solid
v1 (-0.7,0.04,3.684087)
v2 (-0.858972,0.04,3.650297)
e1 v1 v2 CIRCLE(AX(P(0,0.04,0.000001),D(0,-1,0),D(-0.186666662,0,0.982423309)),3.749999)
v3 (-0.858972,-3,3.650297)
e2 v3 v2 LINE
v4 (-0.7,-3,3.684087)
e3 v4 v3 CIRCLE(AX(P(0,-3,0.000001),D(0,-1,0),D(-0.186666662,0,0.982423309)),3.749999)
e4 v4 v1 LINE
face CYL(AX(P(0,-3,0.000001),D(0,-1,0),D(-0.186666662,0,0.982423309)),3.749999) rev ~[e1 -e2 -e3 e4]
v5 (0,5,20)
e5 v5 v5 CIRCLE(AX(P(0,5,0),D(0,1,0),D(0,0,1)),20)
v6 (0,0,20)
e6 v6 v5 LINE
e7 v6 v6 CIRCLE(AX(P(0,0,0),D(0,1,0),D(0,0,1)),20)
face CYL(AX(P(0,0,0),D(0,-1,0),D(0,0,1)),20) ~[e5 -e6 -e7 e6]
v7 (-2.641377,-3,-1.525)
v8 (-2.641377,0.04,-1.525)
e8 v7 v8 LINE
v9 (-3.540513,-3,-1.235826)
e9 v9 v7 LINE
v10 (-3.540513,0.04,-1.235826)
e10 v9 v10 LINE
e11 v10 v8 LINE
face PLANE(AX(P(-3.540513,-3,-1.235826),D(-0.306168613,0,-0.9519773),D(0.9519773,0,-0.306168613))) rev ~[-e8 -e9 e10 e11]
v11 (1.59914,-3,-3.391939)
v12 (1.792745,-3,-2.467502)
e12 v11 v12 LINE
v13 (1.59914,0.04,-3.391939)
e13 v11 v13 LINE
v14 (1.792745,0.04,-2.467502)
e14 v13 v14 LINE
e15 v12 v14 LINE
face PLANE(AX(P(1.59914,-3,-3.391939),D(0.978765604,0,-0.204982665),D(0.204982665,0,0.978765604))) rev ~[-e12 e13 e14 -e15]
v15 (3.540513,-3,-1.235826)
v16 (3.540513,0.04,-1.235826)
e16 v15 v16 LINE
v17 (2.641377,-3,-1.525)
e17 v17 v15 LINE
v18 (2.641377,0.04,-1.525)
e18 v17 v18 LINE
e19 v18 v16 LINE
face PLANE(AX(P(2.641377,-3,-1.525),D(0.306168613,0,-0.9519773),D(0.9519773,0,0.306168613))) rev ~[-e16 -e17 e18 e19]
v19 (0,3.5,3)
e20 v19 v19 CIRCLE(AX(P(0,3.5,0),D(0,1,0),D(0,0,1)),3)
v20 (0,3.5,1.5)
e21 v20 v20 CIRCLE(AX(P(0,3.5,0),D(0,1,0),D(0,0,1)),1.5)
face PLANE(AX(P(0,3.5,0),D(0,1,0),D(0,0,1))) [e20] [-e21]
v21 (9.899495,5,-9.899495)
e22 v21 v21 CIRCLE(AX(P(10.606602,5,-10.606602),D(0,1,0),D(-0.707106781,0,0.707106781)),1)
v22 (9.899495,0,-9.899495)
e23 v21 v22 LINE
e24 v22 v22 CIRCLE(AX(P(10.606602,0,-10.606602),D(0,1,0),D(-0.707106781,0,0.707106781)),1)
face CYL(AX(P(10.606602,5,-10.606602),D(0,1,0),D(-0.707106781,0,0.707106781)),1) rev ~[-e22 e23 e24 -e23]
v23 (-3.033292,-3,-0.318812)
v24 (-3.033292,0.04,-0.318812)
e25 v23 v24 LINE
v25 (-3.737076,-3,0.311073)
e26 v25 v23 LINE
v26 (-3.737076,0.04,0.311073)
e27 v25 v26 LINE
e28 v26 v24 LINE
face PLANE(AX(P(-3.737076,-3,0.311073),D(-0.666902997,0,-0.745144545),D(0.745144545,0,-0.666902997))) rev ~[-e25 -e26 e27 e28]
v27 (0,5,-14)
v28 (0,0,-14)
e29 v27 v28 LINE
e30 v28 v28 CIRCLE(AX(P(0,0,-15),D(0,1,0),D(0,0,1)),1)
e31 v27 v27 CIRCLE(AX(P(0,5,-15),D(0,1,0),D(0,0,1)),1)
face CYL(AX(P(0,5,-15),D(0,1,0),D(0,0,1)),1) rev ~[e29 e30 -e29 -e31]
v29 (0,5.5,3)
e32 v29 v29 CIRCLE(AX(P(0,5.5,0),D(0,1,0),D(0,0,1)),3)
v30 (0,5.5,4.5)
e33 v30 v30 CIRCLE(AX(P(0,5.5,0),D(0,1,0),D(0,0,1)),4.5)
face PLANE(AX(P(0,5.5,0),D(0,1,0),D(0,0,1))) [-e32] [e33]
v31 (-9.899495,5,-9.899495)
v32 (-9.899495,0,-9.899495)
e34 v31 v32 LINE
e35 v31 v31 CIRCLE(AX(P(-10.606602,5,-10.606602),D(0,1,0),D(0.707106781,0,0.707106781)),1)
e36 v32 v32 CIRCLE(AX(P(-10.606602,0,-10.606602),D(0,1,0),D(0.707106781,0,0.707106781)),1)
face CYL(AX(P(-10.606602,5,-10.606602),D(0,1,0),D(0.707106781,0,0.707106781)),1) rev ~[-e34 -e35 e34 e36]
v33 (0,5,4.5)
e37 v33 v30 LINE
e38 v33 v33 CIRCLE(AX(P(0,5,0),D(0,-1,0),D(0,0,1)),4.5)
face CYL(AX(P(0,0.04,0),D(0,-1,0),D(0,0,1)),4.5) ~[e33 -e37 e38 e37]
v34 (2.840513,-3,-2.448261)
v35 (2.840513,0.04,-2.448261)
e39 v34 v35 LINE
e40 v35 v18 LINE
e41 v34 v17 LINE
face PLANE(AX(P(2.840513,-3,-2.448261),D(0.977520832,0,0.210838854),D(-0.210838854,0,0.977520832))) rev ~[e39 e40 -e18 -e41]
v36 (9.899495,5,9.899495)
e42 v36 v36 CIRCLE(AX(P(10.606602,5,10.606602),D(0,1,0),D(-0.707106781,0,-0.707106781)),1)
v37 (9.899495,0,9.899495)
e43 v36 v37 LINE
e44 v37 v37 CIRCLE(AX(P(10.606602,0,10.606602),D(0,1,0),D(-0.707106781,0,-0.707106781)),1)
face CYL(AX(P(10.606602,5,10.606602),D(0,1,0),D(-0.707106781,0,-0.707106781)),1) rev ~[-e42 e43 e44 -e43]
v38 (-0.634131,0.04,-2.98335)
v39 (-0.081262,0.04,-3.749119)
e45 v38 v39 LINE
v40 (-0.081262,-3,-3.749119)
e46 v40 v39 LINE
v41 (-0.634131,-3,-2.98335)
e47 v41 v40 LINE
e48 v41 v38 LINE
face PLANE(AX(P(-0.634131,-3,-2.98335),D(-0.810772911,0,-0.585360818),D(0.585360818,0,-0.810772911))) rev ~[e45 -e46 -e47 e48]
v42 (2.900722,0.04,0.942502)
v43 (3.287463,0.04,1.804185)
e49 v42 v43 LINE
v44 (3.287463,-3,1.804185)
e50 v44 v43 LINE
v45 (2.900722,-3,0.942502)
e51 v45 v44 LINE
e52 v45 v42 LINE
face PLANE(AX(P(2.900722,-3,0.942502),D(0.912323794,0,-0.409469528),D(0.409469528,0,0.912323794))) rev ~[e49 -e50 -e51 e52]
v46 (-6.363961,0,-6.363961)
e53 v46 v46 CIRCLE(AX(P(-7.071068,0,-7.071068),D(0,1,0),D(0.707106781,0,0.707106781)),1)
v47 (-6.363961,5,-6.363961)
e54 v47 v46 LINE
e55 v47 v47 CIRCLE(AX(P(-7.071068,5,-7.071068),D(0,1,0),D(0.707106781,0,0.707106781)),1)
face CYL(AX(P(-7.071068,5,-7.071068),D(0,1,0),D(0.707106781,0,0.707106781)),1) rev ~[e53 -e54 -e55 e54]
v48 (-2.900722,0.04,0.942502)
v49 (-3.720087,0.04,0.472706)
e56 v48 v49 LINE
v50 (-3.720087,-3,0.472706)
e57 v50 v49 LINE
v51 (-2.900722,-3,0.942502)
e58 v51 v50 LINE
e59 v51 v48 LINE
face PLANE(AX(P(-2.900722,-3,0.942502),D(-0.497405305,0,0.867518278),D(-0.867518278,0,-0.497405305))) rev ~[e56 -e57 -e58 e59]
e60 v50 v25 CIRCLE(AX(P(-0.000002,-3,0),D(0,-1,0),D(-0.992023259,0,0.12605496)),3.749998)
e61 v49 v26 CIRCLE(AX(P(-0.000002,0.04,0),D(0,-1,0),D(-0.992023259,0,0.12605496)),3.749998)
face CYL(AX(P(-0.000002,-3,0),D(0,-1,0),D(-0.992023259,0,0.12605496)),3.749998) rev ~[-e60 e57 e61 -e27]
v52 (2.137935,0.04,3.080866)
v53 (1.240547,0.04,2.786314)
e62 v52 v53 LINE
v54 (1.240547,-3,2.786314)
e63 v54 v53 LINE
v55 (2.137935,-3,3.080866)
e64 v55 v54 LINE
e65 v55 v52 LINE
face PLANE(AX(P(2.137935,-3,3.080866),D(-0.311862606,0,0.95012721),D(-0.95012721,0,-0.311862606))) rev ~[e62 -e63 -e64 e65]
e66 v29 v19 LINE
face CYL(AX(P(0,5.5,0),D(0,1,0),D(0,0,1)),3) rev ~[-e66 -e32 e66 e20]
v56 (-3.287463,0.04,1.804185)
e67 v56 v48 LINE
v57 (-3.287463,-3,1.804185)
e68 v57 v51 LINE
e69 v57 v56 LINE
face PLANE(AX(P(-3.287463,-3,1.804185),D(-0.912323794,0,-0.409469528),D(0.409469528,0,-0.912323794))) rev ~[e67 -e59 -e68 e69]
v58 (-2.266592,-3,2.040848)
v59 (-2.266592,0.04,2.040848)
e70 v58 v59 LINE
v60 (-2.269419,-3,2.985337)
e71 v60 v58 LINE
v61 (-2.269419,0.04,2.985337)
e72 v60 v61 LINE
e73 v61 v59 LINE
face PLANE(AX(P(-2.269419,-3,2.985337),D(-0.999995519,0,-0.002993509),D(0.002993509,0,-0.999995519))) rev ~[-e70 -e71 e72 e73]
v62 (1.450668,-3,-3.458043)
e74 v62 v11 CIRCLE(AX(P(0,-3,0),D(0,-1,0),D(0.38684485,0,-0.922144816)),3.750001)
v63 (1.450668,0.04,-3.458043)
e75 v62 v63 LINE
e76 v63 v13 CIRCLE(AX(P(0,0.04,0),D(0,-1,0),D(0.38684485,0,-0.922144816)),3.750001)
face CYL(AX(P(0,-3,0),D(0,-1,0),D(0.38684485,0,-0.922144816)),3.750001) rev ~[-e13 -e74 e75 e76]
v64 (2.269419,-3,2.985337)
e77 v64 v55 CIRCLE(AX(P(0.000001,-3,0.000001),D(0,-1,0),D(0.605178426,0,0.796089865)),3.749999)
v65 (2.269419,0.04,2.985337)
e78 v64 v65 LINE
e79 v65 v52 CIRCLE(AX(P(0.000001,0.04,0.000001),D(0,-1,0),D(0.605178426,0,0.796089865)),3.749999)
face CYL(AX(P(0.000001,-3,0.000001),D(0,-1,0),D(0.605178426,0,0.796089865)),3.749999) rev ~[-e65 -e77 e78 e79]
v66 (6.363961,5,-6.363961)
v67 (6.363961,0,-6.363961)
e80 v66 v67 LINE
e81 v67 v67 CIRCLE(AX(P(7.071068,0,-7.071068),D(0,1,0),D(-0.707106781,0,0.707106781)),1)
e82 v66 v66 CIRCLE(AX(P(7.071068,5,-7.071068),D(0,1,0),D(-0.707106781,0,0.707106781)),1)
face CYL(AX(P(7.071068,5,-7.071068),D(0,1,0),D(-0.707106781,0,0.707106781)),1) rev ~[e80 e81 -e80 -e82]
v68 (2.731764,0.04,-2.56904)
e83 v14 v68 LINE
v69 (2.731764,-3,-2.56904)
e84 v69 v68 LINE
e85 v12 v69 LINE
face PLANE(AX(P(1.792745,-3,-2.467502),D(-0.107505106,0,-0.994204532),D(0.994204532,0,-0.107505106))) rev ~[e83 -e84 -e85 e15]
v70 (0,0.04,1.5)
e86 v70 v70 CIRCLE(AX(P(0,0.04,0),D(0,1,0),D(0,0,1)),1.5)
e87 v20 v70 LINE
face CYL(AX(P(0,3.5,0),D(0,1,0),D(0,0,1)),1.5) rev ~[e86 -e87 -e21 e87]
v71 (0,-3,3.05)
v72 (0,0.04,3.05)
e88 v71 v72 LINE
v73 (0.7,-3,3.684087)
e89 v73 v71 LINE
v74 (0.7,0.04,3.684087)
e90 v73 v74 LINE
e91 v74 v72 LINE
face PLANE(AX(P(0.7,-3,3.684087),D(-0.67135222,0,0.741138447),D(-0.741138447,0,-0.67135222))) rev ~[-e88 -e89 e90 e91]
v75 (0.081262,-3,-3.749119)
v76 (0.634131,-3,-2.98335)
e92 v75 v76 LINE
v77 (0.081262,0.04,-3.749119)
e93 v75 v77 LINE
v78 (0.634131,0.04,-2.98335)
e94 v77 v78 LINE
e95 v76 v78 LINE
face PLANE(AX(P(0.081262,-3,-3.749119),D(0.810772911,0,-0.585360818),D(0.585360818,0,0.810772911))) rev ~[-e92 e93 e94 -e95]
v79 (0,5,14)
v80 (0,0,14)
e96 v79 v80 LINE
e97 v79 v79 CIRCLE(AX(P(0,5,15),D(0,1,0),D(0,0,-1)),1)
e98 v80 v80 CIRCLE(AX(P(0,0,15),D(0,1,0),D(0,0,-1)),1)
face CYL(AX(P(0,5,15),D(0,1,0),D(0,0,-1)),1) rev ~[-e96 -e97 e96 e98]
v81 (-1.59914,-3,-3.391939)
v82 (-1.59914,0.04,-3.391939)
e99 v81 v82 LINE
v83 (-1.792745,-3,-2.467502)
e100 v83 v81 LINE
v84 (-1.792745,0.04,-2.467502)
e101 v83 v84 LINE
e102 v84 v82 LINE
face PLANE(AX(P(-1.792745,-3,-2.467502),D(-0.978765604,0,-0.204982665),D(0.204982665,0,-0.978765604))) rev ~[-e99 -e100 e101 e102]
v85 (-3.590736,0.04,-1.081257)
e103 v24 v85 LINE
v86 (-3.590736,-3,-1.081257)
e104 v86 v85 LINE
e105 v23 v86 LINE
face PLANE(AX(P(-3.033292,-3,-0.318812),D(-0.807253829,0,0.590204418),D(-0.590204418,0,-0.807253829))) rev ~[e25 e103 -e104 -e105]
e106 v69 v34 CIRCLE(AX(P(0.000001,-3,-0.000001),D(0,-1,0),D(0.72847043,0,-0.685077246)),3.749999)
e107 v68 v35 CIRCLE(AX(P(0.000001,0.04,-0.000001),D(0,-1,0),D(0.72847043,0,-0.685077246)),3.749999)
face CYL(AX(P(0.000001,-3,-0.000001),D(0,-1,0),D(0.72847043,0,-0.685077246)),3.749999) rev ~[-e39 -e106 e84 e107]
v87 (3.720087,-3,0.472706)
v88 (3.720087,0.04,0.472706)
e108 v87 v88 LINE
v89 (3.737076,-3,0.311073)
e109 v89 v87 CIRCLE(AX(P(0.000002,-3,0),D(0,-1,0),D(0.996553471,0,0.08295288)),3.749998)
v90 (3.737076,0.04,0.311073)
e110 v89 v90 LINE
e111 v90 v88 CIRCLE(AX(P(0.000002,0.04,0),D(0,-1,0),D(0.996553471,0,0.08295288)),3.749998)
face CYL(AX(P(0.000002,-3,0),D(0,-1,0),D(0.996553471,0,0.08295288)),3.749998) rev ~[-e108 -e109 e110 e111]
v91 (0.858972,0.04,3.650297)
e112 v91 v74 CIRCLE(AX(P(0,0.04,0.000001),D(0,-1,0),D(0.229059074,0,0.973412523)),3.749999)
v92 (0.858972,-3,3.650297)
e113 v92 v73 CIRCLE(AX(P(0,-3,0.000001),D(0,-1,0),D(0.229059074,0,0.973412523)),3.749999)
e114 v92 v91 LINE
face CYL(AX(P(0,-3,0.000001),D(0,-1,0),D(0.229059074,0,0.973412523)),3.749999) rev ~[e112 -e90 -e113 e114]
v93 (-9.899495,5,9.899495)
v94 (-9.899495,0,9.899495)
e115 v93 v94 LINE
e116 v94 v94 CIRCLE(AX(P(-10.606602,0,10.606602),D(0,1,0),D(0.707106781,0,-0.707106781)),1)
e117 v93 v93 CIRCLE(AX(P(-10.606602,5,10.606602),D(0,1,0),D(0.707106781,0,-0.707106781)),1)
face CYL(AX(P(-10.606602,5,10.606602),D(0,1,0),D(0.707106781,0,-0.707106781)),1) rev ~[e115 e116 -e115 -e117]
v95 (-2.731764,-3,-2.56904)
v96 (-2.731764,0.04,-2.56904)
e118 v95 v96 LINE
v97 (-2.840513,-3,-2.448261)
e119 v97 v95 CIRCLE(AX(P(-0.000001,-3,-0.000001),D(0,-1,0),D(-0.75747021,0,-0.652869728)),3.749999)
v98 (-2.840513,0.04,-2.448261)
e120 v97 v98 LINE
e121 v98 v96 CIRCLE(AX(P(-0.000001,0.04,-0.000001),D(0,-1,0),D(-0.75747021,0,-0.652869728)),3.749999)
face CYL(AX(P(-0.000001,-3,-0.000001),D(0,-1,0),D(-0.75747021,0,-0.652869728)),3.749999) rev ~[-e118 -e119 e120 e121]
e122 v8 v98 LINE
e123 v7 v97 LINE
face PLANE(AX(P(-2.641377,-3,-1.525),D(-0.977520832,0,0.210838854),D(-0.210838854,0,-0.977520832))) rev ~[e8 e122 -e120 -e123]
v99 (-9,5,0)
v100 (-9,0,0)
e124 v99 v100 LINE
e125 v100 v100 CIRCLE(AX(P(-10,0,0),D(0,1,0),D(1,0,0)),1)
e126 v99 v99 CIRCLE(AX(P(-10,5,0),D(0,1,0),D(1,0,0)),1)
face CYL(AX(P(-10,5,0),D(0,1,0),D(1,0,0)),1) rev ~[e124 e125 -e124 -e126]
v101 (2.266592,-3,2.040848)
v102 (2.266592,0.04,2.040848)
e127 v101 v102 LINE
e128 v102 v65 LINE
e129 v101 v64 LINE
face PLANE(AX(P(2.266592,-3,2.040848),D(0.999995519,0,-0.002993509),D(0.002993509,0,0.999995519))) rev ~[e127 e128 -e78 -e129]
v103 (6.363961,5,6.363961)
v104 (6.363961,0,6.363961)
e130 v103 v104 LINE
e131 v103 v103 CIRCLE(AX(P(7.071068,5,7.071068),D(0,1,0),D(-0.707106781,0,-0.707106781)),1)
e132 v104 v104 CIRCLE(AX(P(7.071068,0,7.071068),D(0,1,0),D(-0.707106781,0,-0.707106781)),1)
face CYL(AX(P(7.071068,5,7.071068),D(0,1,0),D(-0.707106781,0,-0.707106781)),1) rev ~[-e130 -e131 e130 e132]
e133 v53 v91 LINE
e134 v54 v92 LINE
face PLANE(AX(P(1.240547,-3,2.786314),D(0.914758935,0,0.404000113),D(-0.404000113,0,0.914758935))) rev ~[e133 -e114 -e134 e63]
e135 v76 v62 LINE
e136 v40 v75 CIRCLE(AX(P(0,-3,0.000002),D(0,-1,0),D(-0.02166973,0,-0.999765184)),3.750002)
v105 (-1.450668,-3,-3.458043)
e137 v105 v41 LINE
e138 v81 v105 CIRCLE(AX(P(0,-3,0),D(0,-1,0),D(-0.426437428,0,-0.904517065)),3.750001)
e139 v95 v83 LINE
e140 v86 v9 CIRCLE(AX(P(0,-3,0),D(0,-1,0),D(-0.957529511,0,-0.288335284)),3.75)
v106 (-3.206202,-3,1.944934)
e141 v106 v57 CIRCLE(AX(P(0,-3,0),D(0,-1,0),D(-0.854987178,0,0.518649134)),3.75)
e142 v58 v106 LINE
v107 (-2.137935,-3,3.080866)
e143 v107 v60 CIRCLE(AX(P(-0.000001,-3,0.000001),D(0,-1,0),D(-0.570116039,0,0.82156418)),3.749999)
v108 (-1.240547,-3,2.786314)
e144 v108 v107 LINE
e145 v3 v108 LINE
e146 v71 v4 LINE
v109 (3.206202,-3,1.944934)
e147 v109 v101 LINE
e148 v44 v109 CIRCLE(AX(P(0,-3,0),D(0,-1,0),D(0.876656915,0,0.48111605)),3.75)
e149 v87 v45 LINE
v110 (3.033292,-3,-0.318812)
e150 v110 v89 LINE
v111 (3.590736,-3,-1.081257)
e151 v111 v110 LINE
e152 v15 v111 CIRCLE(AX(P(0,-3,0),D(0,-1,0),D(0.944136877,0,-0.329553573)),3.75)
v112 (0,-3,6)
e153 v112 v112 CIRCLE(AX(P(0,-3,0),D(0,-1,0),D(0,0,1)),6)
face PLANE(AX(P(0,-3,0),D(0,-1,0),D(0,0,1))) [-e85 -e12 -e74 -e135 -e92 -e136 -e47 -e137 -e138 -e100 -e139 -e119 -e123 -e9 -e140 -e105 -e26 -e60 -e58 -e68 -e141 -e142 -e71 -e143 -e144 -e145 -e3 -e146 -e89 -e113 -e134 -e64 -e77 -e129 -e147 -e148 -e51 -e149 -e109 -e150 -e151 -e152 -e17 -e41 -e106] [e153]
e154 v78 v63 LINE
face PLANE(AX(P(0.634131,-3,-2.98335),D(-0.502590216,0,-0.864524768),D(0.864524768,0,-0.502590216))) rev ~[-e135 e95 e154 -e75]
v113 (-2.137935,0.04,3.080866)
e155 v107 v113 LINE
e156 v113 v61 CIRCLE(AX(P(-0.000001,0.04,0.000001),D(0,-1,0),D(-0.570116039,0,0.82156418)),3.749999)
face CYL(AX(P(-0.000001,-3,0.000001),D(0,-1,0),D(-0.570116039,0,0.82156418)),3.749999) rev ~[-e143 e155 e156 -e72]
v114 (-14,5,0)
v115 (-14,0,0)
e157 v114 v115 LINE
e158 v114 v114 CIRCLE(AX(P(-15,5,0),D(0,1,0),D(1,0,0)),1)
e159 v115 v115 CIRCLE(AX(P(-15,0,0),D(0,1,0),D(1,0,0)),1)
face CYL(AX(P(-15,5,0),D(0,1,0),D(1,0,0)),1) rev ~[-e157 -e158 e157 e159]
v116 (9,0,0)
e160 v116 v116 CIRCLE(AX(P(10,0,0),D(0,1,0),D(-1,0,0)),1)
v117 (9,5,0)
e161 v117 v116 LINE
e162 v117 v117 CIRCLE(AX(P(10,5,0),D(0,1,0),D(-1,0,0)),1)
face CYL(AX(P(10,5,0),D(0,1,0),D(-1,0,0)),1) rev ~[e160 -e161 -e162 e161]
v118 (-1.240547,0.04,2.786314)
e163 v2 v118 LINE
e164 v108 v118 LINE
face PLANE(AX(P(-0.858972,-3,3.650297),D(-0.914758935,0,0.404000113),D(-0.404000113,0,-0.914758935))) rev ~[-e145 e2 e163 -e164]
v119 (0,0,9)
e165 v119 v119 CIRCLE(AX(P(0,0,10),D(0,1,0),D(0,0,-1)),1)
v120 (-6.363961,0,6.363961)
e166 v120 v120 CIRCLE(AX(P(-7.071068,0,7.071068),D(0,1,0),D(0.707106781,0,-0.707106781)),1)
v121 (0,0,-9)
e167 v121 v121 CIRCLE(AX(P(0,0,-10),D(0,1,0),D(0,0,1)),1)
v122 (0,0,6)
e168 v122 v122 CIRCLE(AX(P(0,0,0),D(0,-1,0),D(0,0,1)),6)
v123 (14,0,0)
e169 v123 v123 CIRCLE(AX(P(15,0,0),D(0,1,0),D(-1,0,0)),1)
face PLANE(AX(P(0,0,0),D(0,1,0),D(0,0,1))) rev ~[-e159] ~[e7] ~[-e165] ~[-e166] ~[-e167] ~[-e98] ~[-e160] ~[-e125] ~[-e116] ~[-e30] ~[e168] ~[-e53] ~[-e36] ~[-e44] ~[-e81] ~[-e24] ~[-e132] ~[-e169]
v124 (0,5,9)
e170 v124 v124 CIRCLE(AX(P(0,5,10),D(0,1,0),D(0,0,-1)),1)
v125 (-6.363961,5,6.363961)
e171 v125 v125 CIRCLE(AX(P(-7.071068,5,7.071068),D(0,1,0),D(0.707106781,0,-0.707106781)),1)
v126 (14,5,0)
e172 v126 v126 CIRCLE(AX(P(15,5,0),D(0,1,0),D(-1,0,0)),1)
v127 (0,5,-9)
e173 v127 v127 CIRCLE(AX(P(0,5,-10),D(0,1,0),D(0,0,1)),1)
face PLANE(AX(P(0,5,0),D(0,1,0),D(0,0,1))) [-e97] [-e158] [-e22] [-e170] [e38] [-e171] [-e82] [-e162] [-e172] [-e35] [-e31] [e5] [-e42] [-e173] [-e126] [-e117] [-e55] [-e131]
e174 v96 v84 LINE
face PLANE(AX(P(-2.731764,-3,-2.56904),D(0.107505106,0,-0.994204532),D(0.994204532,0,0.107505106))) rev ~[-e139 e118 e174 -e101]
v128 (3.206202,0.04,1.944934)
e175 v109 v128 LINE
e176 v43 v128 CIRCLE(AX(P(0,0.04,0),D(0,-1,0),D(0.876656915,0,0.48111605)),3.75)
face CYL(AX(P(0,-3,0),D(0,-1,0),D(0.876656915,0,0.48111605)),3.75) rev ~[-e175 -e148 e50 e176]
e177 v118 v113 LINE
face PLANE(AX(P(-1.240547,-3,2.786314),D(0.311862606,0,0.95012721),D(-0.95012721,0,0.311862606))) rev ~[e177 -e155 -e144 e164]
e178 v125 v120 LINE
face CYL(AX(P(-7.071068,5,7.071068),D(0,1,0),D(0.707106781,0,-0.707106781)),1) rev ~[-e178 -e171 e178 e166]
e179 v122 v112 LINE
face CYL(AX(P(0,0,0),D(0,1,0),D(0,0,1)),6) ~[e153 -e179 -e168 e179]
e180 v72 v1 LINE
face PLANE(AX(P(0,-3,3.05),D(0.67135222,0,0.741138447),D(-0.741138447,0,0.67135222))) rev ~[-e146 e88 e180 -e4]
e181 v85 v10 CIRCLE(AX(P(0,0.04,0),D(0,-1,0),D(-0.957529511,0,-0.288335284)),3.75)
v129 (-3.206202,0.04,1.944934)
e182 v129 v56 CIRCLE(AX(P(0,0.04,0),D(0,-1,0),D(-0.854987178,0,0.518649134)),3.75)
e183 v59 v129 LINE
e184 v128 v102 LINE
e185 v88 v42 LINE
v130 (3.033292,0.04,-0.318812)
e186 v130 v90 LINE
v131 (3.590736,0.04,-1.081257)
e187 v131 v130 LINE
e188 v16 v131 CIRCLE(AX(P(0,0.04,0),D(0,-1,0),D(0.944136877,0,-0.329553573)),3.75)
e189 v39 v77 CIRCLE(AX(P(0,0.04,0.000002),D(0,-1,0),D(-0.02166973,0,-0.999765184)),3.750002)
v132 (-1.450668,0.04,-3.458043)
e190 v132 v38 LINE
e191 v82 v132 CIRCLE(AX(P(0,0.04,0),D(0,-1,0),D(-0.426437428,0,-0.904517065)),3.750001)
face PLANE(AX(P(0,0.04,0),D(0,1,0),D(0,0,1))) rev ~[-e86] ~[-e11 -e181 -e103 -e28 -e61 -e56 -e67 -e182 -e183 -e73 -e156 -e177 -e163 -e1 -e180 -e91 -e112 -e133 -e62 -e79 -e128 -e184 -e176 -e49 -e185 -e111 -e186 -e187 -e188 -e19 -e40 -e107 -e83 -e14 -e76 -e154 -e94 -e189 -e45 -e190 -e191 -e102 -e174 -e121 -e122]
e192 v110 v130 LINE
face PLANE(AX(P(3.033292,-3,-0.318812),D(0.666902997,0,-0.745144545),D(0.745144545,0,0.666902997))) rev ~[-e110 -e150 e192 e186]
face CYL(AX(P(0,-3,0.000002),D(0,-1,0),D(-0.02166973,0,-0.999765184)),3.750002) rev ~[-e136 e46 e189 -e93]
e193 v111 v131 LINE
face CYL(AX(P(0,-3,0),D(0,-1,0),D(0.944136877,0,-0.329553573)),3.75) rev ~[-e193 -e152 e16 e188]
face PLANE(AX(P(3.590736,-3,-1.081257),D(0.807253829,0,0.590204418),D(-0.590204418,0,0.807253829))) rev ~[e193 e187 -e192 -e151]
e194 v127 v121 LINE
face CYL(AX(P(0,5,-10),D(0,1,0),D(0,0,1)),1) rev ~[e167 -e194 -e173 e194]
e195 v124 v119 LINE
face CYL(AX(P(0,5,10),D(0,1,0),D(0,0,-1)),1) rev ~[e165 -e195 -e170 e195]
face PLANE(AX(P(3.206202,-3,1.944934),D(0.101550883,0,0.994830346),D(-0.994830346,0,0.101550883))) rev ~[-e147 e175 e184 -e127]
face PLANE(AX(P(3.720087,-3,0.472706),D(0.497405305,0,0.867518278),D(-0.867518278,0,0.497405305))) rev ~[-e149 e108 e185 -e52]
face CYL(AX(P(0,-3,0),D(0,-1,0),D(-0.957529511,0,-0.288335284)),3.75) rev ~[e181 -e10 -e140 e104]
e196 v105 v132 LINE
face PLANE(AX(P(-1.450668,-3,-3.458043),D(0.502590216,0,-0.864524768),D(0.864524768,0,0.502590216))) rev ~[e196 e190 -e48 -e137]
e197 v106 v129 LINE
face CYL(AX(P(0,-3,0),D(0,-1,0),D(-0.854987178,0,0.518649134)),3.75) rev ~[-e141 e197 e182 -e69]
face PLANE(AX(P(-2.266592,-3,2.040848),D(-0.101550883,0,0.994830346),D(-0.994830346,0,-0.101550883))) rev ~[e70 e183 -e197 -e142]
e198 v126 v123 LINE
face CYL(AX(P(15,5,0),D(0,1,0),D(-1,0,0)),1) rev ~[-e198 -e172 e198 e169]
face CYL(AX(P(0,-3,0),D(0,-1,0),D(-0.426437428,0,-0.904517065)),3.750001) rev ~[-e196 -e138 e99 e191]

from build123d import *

# Parameters (mm, degrees)
SKETCH1_R                = 20
BOSS_EXTRUDE1_DEPTH      = 5
SKETCH3_R                = 1
CUT_EXTRUDE2_DEPTH       = 10
CIRPATTERN1_COUNT        = 8
SKETCH5_R                = 6
BOSS_EXTRUDE3_DEPTH      = 3
CUT_EXTRUDE5_DEPTH       = 30.393876913
BOSS_EXTRUDE4_DEPTH      = 0.5
BOSS_EXTRUDE4_DEPTH_BACK = 4.96
SKETCH4_R                = 4.5
SKETCH10_R               = 3
CUT_EXTRUDE6_DEPTH       = 2
SKETCH11_R               = 1.5
CUT_EXTRUDE7_DEPTH       = 30.021543722


with BuildPart() as part:
    # Sketch1 → Boss-Extrude1 (new body)
    with BuildSketch(Plane(origin=(0, 0, 0), x_dir=(1, 0, 0), z_dir=(0, 1, 0))):
        with Locations(Location((0, 0, 0), (0, 0, 270))):
            Circle(SKETCH1_R)
    extrude(amount=BOSS_EXTRUDE1_DEPTH)

    # Sketch3 → Cut-Extrude2 (cut)
    with BuildSketch(Plane(origin=(0, 5, 0), x_dir=(1, 0, 0), z_dir=(0, 1, 0))):
        with Locations(Location((0, 15, 0), (0, 0, 270))):
            Circle(SKETCH3_R)
        with Locations(Location((0, 10, 0), (0, 0, 270))):
            Circle(SKETCH3_R)
    cut_extrude2 = extrude(amount=-CUT_EXTRUDE2_DEPTH, mode=Mode.SUBTRACT)

    # CirPattern1: Cut-Extrude2 ×8 about axis
    cirpattern1_axis = Axis((0, 0, 0), (0, 1, 0))
    for i in range(1, CIRPATTERN1_COUNT):
        add(cut_extrude2.rotate(cirpattern1_axis, i * 360 / CIRPATTERN1_COUNT), mode=Mode.SUBTRACT)

    # Sketch5 → Boss-Extrude3 (add)
    with BuildSketch(Plane.XZ):
        with Locations(Location((0, 0, 0), (0, 0, 90))):
            Circle(SKETCH5_R)
    extrude(amount=BOSS_EXTRUDE3_DEPTH)

    # Sketch8 → Cut-Extrude5 (cut, through all)
    with BuildSketch(Plane.XZ.offset(3)):
        with BuildLine():
            Line((0.7, 3.684087404), (0, 3.05))
            Line((0, 3.05), (-0.7, 3.684087404))
            ThreePointArc((-0.7, 3.684087404), (-0.779668841, 3.668053503), (-0.858971523, 3.650296964))
            Line((-0.858971523, 3.650296964), (-1.240546761, 2.786313646))
            Line((-1.240546761, 2.786313646), (-2.137935164, 3.080865663))
            ThreePointArc((-2.137935164, 3.080865663), (-2.204194696, 3.033813729), (-2.269419066, 2.985337016))
            Line((-2.269419066, 2.985337016), (-2.266591718, 2.040848349))
            Line((-2.266591718, 2.040848349), (-3.206201915, 1.944934261))
            ThreePointArc((-3.206201915, 1.944934261), (-3.247595264, 1.875), (-3.287463436, 1.804185178))
            Line((-3.287463436, 1.804185178), (-2.900722375, 0.942501833))
            Line((-2.900722375, 0.942501833), (-3.720087228, 0.472706055))
            ThreePointArc((-3.720087228, 0.472706055), (-3.729457108, 0.391981737), (-3.737075512, 0.311073332))
            Line((-3.737075512, 0.311073332), (-3.033291781, -0.318811813))
            Line((-3.033291781, -0.318811813), (-3.590735663, -1.081257322))
            ThreePointArc((-3.590735663, -1.081257322), (-3.566461936, -1.158813729), (-3.540513282, -1.235825919))
            Line((-3.540513282, -1.235825919), (-2.641377482, -1.525))
            Line((-2.641377482, -1.525), (-2.840513282, -2.448261485))
            ThreePointArc((-2.840513282, -2.448261485), (-2.786793096, -2.509239774), (-2.73176414, -2.569039642))
            Line((-2.73176414, -2.569039642), (-1.792745019, -2.467501833))
            Line((-1.792745019, -2.467501833), (-1.599140348, -3.391938995))
            ThreePointArc((-1.599140348, -3.391938995), (-1.525262412, -3.425795466), (-1.450668162, -3.458043072))
            Line((-1.450668162, -3.458043072), (-0.634130657, -2.983350182))
            Line((-0.634130657, -2.983350182), (-0.081261521, -3.749119439))
            ThreePointArc((-0.081261521, -3.749119439), (0, -3.75), (0.081261521, -3.749119439))
            Line((0.081261521, -3.749119439), (0.634130657, -2.983350182))
            Line((0.634130657, -2.983350182), (1.450668162, -3.458043072))
            ThreePointArc((1.450668162, -3.458043072), (1.525262412, -3.425795466), (1.599140348, -3.391938995))
            Line((1.599140348, -3.391938995), (1.792745019, -2.467501833))
            Line((1.792745019, -2.467501833), (2.73176414, -2.569039642))
            ThreePointArc((2.73176414, -2.569039642), (2.786793096, -2.509239774), (2.840513282, -2.448261485))
            Line((2.840513282, -2.448261485), (2.641377482, -1.525))
            Line((2.641377482, -1.525), (3.540513282, -1.235825919))
            ThreePointArc((3.540513282, -1.235825919), (3.566461936, -1.158813729), (3.590735663, -1.081257322))
            Line((3.590735663, -1.081257322), (3.033291781, -0.318811813))
            Line((3.033291781, -0.318811813), (3.737075512, 0.311073332))
            ThreePointArc((3.737075512, 0.311073332), (3.729457108, 0.391981737), (3.720087228, 0.472706055))
            Line((3.720087228, 0.472706055), (2.900722375, 0.942501833))
            Line((2.900722375, 0.942501833), (3.287463436, 1.804185178))
            ThreePointArc((3.287463436, 1.804185178), (3.247595264, 1.875), (3.206201915, 1.944934261))
            Line((3.206201915, 1.944934261), (2.266591718, 2.040848349))
            Line((2.266591718, 2.040848349), (2.269419066, 2.985337016))
            ThreePointArc((2.269419066, 2.985337016), (2.204194696, 3.033813729), (2.137935164, 3.080865663))
            Line((2.137935164, 3.080865663), (1.240546761, 2.786313646))
            Line((1.240546761, 2.786313646), (0.858971523, 3.650296964))
            ThreePointArc((0.858971523, 3.650296964), (0.779668841, 3.668053503), (0.7, 3.684087404))
        make_face()
    extrude(amount=-CUT_EXTRUDE5_DEPTH, mode=Mode.SUBTRACT)

    # Sketch4 → Boss-Extrude4 (add, two sides: drawn at the far end of the back side and taken through both)
    with BuildSketch(Plane(origin=(0, 5, 0), x_dir=(1, 0, 0), z_dir=(0, 1, 0)).offset(-BOSS_EXTRUDE4_DEPTH_BACK)):
        with Locations(Location((0, 0, 0), (0, 0, 270))):
            Circle(SKETCH4_R)
    extrude(amount=BOSS_EXTRUDE4_DEPTH + BOSS_EXTRUDE4_DEPTH_BACK)

    # Sketch10 → Cut-Extrude6 (cut)
    with BuildSketch(Plane(origin=(0, 5.5, 0), x_dir=(1, 0, 0), z_dir=(0, 1, 0))):
        with Locations(Location((0, 0, 0), (0, 0, 270))):
            Circle(SKETCH10_R)
    extrude(amount=-CUT_EXTRUDE6_DEPTH, mode=Mode.SUBTRACT)

    # Sketch11 → Cut-Extrude7 (cut, through all)
    with BuildSketch(Plane(origin=(0, 3.5, 0), x_dir=(1, 0, 0), z_dir=(0, 1, 0))):
        with Locations(Location((0, 0, 0), (0, 0, 270))):
            Circle(SKETCH11_R)
    extrude(amount=-CUT_EXTRUDE7_DEPTH, mode=Mode.SUBTRACT)


solid = part.part
